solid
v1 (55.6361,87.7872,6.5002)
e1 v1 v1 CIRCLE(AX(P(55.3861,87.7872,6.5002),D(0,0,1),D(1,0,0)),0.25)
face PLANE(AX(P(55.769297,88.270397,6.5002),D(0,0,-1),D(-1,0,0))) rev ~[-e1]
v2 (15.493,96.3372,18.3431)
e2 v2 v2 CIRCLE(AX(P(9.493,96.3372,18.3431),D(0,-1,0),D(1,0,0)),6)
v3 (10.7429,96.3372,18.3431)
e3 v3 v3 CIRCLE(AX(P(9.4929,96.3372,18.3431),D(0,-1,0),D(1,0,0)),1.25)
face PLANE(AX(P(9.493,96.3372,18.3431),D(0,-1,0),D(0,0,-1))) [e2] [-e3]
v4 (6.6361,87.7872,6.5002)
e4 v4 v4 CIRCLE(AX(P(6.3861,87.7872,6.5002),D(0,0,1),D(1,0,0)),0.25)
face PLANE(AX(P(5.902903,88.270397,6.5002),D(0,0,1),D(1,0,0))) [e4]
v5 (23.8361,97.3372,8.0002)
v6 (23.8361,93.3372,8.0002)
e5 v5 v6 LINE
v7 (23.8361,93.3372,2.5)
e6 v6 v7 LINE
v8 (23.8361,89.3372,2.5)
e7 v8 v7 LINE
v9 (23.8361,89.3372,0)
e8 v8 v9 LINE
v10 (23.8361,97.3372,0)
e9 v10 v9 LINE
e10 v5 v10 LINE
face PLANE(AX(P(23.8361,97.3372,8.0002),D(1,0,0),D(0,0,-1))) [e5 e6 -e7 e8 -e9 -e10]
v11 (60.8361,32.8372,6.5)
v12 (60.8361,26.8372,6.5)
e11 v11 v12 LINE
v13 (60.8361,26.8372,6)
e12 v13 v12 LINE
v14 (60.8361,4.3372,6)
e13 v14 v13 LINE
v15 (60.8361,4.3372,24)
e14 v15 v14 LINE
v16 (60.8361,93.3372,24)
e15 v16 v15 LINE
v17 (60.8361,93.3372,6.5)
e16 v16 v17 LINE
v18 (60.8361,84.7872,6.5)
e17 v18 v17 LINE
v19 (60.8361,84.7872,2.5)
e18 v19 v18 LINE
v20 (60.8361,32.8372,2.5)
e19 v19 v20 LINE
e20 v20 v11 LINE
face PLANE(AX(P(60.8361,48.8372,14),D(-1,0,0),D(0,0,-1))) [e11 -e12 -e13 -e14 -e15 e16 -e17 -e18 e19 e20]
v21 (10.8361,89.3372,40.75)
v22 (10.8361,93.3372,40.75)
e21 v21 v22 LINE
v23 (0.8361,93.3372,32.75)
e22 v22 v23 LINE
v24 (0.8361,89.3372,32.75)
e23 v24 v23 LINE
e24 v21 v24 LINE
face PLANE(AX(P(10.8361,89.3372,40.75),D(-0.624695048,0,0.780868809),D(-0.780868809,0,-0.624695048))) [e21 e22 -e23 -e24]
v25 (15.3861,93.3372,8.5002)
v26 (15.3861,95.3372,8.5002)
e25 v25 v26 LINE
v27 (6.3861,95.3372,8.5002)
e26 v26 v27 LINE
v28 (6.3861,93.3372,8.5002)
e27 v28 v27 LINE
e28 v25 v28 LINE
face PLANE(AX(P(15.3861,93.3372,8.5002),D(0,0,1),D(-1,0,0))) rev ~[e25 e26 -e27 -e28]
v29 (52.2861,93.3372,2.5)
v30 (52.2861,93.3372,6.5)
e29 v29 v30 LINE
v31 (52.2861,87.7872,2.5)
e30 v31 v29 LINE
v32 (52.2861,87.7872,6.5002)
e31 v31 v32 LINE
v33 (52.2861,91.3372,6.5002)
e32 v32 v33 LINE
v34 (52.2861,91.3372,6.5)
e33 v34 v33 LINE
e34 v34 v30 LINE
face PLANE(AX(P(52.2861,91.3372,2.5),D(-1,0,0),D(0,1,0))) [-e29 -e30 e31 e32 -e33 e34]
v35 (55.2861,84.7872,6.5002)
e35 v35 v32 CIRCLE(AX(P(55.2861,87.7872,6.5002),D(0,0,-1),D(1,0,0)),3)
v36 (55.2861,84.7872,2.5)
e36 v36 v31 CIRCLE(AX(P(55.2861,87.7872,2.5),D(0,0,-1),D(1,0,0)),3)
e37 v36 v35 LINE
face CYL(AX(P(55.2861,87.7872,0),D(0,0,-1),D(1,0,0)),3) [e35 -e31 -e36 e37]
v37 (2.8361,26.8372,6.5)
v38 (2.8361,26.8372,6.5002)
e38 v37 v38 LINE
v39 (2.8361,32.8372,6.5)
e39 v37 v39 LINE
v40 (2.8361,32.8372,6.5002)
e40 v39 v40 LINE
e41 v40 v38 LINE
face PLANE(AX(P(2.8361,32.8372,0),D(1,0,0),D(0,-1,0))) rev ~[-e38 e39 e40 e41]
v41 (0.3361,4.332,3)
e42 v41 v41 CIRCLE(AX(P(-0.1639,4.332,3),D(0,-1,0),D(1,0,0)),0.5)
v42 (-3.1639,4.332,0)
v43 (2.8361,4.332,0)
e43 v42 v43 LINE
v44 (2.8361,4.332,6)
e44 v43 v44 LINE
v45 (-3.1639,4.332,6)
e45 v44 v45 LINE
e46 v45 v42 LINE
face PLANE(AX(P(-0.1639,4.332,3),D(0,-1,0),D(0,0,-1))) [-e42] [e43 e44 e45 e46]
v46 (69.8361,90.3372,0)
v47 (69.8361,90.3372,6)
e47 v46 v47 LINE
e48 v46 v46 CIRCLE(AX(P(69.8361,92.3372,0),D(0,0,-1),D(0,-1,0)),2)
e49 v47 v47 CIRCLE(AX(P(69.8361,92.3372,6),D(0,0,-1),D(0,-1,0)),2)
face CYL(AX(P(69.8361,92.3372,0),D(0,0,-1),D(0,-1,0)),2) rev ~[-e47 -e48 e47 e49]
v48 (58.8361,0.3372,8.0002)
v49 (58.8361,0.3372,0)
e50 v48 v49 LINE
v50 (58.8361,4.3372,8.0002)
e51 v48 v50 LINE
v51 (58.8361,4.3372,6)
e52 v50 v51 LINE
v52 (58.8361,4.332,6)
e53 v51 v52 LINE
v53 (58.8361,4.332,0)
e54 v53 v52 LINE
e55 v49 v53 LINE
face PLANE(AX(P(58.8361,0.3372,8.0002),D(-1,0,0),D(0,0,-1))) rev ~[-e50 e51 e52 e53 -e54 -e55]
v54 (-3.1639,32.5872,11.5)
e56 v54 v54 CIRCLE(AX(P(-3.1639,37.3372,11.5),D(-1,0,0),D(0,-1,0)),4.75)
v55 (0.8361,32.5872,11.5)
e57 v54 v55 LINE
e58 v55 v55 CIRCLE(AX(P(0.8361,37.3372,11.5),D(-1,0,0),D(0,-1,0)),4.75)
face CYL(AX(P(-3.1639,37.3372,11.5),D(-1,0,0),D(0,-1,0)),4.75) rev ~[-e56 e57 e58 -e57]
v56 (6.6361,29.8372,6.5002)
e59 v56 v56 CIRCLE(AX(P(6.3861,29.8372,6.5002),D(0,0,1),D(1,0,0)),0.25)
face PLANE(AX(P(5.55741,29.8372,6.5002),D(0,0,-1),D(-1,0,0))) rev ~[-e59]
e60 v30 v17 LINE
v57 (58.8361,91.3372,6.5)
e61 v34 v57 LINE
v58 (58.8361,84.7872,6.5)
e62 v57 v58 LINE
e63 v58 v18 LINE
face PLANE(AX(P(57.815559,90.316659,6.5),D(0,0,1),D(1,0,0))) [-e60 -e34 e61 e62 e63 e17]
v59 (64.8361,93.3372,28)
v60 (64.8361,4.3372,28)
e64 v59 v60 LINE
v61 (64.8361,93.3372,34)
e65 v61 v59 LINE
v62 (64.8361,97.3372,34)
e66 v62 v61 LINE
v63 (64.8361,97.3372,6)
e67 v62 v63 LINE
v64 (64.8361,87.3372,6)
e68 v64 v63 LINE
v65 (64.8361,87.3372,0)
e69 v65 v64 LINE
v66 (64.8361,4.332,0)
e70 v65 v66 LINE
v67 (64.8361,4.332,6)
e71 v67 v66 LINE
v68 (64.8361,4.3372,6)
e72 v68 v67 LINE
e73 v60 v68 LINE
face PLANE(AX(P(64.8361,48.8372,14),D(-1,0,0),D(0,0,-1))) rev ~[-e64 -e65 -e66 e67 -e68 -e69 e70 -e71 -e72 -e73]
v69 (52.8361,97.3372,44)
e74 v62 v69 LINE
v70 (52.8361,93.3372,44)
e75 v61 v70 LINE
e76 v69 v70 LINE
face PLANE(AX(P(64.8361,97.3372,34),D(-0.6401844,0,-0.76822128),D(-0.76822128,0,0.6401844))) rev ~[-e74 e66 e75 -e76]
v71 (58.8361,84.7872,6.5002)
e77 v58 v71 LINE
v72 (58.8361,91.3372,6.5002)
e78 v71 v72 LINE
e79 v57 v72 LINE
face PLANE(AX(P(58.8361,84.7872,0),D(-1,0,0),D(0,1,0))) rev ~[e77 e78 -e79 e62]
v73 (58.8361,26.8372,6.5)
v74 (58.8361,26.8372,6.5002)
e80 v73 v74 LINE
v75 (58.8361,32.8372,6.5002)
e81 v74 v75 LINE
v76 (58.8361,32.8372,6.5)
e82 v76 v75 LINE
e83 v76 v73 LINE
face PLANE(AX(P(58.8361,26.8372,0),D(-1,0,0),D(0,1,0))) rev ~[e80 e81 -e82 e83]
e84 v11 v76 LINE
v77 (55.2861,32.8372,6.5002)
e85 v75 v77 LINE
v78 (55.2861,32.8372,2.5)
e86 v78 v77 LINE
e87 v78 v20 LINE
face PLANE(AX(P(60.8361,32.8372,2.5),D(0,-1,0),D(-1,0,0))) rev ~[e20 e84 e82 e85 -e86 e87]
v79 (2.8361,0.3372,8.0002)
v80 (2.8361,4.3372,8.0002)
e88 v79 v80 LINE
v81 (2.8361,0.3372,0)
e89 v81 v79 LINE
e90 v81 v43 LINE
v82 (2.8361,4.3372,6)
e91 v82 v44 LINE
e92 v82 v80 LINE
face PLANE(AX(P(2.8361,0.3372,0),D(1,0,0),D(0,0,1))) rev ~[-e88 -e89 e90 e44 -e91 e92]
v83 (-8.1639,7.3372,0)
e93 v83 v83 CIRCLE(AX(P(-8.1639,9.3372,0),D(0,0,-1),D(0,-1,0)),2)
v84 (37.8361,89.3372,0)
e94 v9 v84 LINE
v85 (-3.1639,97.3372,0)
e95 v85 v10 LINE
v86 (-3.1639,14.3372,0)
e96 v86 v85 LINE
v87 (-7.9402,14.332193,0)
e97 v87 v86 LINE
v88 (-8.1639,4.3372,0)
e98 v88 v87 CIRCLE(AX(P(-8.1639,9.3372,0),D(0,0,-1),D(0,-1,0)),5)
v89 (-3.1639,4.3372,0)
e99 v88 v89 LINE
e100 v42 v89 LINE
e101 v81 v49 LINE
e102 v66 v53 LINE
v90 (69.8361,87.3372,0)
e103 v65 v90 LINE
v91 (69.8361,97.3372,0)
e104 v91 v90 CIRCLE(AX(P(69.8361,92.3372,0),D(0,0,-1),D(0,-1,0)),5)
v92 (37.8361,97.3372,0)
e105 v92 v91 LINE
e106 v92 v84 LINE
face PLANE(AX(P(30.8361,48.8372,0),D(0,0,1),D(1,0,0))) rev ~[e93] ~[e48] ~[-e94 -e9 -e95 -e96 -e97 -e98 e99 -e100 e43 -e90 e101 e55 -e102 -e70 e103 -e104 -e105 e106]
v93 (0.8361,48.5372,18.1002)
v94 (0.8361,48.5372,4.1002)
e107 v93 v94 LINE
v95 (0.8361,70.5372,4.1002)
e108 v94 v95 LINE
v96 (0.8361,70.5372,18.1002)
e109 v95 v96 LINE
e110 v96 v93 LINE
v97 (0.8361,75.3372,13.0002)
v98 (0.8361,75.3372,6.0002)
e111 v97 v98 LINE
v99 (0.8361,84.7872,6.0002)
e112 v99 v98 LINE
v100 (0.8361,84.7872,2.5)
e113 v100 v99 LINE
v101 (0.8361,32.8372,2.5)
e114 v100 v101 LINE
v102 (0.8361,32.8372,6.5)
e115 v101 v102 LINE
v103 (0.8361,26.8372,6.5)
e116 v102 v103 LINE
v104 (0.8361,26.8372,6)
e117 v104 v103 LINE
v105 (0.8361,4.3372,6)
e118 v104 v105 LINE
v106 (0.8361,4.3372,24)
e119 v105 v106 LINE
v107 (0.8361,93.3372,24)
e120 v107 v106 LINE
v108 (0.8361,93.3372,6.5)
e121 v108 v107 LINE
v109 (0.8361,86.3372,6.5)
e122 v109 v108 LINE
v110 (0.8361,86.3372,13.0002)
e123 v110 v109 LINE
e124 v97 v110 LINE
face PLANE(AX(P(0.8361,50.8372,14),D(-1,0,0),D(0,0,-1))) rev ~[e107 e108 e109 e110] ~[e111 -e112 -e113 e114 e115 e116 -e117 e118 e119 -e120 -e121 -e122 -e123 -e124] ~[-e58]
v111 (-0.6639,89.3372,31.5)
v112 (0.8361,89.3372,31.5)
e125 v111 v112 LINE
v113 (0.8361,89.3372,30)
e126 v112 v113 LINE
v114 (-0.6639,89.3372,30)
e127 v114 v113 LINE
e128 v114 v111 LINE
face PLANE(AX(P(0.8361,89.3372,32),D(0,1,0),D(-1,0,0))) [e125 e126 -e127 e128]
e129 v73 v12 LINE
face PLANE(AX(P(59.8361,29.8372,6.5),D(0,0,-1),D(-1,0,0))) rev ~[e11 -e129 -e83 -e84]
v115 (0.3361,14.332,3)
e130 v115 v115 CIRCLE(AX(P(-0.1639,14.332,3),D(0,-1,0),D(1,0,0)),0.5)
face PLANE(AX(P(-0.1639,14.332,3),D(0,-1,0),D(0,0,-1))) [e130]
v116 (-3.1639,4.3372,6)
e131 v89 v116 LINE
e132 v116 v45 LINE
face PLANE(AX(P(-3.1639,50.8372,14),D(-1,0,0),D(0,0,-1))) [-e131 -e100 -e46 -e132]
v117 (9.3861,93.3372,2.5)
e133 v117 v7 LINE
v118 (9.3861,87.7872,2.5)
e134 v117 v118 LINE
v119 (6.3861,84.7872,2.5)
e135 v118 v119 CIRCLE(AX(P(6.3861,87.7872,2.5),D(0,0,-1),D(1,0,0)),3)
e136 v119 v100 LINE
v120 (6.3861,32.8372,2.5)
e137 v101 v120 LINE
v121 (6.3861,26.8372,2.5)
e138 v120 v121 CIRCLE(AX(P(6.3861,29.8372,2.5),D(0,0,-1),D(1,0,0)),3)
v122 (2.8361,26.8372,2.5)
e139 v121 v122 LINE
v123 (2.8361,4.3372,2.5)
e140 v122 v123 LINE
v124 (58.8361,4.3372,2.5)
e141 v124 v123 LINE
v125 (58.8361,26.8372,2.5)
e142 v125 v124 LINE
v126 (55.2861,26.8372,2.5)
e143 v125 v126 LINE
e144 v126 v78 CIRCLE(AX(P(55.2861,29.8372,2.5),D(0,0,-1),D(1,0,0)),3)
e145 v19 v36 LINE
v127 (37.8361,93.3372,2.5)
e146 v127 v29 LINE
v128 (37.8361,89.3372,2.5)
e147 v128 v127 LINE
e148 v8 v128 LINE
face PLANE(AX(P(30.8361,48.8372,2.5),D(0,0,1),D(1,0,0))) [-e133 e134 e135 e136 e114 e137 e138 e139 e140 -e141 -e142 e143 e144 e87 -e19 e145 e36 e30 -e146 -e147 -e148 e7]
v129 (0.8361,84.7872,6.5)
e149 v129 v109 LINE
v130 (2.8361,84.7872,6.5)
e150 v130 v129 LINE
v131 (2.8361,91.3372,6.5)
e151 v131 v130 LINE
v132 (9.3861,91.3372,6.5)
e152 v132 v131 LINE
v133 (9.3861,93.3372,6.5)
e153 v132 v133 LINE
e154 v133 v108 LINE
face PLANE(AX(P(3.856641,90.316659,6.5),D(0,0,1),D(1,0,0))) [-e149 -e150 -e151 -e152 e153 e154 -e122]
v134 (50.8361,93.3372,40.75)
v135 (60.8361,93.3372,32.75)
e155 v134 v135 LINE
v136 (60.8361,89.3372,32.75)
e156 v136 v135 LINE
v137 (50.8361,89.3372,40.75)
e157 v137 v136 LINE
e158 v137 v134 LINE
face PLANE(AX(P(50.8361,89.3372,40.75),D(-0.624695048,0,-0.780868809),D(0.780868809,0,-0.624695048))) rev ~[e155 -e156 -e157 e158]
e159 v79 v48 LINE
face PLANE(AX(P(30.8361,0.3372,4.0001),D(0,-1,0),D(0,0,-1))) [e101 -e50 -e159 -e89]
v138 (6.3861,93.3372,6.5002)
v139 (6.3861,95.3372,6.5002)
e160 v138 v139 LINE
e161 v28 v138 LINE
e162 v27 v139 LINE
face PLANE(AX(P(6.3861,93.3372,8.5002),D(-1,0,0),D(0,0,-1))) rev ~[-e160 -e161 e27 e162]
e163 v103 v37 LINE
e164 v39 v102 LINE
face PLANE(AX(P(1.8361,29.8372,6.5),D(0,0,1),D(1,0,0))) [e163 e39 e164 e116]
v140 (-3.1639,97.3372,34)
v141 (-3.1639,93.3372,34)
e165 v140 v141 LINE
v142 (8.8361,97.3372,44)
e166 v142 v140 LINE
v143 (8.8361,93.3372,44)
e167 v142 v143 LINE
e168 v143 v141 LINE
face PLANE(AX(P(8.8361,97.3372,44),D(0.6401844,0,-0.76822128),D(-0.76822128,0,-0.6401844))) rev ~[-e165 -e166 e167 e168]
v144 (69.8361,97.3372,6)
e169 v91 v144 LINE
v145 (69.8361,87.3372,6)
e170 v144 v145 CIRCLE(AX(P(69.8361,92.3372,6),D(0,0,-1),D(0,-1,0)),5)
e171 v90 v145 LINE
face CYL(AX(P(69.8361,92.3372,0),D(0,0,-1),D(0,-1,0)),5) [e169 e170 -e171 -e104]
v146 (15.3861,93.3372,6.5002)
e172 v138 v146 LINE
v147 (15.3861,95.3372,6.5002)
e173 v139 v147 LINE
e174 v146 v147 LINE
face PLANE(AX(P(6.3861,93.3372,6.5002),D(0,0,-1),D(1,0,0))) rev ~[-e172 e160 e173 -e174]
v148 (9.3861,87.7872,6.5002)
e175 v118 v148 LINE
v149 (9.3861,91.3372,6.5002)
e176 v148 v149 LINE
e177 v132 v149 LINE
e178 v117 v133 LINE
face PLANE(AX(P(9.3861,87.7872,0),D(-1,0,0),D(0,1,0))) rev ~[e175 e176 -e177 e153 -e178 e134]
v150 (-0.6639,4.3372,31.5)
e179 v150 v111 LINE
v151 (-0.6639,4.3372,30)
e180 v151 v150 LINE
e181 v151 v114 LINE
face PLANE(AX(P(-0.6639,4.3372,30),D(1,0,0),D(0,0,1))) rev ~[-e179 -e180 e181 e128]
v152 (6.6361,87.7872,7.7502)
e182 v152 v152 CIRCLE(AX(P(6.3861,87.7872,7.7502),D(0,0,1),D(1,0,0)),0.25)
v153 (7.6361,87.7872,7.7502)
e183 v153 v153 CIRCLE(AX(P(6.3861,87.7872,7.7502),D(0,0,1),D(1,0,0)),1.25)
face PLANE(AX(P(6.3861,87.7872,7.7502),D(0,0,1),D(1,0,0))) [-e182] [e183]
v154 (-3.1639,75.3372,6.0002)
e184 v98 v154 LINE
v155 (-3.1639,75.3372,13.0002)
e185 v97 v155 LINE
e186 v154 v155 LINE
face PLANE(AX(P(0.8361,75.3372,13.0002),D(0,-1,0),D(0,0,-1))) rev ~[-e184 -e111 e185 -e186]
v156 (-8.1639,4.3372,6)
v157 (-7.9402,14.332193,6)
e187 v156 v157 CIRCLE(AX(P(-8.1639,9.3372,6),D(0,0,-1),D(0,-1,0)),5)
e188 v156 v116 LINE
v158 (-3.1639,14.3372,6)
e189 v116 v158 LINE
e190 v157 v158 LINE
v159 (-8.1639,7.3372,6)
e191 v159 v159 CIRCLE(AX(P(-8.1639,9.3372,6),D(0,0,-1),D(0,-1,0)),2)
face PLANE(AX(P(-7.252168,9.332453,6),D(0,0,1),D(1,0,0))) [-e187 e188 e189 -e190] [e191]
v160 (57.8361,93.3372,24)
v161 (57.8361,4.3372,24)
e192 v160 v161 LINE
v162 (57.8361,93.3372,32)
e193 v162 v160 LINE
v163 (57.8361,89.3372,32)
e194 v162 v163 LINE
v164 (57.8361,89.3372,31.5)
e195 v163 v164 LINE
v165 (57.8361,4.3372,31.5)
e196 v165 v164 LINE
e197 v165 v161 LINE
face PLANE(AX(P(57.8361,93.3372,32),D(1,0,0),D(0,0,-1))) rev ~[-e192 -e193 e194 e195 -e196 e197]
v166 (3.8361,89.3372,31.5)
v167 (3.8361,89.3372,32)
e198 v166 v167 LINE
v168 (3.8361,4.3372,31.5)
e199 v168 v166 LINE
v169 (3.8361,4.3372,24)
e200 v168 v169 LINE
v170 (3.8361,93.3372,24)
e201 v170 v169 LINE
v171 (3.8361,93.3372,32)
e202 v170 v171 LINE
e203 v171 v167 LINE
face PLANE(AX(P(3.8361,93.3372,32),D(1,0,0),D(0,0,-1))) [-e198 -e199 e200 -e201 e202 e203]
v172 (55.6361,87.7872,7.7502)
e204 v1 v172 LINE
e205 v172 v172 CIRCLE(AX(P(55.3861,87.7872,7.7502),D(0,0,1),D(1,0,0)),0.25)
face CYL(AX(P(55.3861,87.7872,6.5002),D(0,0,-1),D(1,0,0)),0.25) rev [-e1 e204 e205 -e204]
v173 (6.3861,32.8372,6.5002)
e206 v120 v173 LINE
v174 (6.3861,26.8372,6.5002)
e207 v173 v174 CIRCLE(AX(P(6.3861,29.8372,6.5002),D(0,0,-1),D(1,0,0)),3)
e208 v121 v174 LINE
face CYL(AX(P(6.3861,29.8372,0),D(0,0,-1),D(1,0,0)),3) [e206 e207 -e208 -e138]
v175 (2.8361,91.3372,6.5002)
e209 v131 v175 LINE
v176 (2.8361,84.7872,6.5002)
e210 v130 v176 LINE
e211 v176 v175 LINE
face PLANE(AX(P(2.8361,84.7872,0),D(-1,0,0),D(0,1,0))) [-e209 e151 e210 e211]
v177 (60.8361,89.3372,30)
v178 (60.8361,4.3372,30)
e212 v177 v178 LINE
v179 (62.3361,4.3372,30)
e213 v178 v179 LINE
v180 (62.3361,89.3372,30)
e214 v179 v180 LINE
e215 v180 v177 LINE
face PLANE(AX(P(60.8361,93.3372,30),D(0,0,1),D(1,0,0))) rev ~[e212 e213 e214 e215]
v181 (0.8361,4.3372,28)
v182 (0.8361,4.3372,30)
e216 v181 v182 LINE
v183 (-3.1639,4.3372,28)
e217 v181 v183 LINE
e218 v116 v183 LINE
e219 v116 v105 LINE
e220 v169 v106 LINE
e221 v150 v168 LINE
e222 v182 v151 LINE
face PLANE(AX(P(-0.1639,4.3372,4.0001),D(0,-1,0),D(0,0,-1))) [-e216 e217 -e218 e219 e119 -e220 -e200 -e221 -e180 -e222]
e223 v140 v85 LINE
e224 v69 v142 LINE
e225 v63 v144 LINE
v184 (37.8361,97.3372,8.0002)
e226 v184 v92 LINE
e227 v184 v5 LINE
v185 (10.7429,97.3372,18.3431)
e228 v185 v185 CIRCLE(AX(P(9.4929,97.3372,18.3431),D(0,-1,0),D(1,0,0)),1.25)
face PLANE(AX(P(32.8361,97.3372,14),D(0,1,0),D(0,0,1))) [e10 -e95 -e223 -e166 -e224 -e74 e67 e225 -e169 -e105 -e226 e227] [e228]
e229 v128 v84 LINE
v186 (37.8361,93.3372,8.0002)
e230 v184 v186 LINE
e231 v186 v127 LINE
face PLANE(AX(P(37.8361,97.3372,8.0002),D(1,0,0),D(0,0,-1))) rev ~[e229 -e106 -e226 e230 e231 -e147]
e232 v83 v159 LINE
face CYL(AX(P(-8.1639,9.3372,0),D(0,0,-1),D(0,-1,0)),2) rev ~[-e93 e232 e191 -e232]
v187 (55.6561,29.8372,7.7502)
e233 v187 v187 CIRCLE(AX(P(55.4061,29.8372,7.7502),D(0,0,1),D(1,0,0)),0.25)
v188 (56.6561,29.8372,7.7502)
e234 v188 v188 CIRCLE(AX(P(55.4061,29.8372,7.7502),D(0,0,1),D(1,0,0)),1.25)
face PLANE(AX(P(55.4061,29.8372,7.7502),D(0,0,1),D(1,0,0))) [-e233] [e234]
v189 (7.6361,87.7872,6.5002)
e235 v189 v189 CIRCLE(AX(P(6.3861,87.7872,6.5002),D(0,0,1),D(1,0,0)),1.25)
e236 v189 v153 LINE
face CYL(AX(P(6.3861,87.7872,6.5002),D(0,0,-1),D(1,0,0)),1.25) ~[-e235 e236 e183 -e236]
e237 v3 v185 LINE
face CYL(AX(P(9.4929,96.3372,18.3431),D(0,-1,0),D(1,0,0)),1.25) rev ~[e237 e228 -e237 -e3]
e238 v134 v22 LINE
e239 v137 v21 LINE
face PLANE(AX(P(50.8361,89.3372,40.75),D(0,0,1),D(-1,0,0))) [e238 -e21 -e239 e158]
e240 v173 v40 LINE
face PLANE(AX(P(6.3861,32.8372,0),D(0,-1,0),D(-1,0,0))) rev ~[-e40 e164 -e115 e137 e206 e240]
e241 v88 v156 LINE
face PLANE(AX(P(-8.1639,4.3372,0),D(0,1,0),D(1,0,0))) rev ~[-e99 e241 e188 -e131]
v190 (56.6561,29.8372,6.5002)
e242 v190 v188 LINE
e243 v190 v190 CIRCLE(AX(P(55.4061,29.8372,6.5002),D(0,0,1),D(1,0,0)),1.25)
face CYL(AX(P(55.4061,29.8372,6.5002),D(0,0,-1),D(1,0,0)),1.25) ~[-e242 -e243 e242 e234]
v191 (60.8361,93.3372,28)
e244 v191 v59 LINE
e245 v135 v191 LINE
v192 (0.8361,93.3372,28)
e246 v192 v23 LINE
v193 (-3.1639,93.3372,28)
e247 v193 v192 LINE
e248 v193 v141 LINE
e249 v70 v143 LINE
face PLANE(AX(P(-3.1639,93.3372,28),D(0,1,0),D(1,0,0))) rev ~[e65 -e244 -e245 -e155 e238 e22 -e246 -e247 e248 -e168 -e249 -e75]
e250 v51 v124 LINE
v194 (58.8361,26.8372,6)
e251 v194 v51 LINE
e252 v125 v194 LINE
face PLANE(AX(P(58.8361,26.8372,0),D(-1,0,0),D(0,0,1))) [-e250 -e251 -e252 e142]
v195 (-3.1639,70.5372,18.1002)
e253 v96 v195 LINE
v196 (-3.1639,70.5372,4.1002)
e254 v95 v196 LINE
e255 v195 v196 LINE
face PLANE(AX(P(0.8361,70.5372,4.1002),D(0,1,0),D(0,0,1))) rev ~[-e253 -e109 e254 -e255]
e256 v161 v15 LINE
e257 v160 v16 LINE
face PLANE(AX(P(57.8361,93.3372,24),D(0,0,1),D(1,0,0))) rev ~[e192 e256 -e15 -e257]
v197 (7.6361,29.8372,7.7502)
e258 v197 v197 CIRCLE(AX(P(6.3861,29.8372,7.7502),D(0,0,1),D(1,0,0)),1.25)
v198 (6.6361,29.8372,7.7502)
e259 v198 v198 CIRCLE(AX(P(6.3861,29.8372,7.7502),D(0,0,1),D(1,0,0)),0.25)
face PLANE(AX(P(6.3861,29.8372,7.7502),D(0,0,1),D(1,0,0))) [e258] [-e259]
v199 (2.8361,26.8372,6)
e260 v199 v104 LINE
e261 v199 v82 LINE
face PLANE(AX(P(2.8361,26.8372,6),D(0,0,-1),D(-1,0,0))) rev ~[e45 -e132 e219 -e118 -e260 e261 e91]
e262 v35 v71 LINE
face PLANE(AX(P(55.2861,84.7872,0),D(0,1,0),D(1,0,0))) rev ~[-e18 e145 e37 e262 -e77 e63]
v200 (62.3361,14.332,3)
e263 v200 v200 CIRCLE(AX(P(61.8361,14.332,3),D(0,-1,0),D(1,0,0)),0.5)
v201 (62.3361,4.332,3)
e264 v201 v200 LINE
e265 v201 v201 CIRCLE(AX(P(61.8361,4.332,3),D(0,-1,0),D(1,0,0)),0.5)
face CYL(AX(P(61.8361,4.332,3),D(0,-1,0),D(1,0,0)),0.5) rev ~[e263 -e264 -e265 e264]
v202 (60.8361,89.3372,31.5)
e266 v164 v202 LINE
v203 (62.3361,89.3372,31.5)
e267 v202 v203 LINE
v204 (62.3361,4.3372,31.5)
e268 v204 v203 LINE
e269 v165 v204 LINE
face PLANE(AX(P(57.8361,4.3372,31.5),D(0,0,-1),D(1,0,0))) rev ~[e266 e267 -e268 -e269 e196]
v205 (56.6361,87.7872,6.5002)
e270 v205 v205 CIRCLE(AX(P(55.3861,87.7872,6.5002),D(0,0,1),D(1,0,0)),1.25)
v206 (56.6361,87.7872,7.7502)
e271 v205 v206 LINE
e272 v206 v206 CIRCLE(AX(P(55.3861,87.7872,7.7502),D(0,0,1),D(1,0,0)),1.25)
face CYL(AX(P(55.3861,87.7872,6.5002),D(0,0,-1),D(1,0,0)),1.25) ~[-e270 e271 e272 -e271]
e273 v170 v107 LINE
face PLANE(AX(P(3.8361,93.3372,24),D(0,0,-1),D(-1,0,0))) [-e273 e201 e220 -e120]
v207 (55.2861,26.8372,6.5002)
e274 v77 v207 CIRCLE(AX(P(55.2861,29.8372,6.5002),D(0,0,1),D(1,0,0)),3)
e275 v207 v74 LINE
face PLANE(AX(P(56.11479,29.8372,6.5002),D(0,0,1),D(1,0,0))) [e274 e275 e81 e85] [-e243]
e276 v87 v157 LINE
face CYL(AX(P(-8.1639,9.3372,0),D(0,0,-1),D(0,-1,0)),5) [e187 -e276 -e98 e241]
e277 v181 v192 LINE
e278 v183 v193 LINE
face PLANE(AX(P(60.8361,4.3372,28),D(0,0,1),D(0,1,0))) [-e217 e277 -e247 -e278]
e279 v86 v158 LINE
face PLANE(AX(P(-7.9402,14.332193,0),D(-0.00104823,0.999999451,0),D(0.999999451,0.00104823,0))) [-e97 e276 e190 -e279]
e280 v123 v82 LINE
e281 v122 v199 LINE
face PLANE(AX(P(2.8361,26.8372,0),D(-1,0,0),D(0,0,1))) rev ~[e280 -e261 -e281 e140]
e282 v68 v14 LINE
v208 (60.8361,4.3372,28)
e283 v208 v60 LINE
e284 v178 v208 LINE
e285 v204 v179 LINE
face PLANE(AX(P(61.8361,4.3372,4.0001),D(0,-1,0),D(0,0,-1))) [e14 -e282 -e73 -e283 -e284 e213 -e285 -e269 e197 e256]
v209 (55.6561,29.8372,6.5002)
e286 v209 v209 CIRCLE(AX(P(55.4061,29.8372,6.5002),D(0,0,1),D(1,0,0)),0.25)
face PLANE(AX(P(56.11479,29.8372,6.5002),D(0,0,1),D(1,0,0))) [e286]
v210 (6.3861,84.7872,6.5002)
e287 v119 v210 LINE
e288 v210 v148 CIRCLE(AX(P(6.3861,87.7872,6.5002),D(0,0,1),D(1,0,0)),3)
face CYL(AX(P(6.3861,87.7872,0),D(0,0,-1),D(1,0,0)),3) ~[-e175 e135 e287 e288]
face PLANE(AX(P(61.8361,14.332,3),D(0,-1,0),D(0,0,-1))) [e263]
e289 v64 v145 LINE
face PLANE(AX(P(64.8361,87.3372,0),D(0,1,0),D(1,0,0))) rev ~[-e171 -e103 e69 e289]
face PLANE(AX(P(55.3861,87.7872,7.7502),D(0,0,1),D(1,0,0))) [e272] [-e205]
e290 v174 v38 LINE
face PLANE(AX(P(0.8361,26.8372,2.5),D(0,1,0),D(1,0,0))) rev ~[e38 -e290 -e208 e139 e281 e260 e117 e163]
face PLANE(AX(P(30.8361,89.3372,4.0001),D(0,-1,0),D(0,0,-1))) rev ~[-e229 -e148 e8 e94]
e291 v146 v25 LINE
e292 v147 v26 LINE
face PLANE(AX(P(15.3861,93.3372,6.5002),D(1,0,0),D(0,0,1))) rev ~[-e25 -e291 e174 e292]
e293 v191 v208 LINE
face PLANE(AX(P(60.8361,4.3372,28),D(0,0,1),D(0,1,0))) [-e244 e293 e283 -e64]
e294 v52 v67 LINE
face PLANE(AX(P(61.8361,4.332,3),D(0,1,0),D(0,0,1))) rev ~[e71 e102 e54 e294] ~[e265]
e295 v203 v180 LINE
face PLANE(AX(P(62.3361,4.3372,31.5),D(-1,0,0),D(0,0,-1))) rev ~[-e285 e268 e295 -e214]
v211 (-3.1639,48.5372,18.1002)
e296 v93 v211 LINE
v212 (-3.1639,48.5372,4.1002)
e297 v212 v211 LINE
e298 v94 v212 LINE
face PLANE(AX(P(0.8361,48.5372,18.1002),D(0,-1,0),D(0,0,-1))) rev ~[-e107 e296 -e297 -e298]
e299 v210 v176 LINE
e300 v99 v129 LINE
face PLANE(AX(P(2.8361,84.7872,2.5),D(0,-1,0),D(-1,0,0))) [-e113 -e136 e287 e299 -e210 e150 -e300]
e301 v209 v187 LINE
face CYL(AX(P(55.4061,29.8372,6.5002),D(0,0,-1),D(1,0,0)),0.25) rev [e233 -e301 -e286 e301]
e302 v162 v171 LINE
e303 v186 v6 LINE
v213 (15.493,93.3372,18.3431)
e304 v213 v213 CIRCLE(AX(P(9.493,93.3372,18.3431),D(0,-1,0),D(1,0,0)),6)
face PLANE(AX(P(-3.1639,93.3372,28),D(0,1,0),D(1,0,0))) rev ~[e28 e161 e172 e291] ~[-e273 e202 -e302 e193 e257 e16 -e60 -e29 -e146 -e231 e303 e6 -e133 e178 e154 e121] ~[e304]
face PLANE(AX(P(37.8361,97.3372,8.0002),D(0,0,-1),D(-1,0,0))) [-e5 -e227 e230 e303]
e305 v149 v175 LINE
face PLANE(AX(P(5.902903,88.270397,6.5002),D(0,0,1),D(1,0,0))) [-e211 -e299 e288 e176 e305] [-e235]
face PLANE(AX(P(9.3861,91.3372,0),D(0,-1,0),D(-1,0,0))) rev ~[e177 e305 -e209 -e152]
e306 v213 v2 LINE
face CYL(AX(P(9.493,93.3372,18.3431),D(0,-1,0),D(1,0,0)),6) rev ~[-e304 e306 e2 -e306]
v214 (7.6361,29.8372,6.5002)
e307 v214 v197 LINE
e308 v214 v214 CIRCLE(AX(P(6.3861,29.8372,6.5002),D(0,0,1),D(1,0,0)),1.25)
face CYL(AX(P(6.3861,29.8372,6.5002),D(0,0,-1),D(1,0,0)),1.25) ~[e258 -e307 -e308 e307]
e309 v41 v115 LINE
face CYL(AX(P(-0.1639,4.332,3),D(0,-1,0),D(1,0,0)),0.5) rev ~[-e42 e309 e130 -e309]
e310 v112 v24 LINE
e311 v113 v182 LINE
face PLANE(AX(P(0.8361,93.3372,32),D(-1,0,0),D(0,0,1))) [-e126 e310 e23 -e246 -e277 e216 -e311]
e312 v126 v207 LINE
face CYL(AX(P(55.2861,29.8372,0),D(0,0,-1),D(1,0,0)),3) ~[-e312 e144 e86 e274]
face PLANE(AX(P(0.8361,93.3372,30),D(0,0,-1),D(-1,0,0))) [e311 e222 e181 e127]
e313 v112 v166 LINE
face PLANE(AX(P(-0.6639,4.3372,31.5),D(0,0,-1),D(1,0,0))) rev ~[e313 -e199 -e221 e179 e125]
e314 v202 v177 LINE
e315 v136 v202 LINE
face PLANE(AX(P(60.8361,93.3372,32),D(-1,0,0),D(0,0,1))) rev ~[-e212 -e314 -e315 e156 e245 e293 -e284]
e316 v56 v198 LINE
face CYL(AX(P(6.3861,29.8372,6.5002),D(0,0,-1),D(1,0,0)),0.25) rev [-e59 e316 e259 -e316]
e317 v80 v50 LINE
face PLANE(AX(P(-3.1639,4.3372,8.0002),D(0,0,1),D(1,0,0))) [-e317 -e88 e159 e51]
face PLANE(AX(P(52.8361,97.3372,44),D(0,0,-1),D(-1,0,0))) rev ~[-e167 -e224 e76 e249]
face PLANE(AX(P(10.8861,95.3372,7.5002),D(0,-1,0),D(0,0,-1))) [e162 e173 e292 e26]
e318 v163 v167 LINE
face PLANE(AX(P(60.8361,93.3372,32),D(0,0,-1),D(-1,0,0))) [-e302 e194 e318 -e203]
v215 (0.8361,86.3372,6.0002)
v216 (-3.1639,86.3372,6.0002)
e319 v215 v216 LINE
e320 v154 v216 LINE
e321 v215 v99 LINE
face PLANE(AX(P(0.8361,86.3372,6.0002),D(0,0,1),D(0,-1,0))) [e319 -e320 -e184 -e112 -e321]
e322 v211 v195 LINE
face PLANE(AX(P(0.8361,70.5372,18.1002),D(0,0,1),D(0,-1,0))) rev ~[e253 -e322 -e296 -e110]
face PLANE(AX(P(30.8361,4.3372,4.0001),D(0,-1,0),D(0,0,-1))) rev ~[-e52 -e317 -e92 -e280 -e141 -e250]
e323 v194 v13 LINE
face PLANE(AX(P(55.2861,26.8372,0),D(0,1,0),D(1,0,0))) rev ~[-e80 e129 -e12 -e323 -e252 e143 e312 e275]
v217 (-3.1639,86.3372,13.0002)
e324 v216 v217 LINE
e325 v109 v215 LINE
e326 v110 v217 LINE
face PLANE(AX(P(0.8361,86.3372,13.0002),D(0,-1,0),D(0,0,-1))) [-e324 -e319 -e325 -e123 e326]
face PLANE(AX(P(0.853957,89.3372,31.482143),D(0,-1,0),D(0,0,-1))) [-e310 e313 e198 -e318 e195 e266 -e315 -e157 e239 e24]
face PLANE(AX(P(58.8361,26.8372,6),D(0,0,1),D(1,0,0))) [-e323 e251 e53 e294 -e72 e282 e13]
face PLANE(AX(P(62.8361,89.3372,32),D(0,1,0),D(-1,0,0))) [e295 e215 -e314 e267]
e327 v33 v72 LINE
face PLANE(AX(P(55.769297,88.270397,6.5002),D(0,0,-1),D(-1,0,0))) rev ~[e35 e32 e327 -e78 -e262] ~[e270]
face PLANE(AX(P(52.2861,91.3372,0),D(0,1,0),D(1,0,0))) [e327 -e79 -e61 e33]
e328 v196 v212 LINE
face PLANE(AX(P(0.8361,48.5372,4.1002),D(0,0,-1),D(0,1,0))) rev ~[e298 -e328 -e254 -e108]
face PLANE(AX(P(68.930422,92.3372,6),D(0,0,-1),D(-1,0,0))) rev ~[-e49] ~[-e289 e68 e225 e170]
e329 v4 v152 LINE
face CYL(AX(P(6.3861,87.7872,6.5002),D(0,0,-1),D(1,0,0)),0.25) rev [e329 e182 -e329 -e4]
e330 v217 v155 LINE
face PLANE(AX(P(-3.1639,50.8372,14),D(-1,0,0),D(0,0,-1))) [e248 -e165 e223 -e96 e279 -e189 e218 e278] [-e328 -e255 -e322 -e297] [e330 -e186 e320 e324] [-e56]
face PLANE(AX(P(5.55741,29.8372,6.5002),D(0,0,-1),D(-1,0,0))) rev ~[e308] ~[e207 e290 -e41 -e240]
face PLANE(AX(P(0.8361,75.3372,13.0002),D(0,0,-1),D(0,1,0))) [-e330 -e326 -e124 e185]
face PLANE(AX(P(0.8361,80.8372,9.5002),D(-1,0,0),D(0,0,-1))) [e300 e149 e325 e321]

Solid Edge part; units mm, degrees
sketch "Sketch1" plane through (0, 0, 0) normal (0, 0, 1) x (1, 0, 0)
  line L0 (2.8361, 6.3372) -> (58.8361, 6.3372)
  line L1 (58.8361, 6.3372) -> (58.8361, 91.3372)
  line L2 (58.8361, 91.3372) -> (2.8361, 91.3372)
  line L3 (2.8361, 91.3372) -> (2.8361, 6.3372)
extrude "Protrusion1" add sketch "Sketch1" along normal blind 2.5
sketch "Sketch2" plane through (30.8361, 6.3372, 1.25) normal (0, -1, 0) x (1, 0, 0)
  line L0 (-28, 1.25) -> (28, 1.25)
  line L1 (28, 1.25) -> (28, -1.25)
  line L2 (28, -1.25) -> (-28, -1.25)
  line L3 (-28, -1.25) -> (-28, 1.25)
extrude "Extrusionsausprägung_2" add sketch "Sketch2" along normal blind 2
sketch "Sketch3" plane through (30.8361, 91.3372, 1.25) normal (0, 1, 0) x (-1, 0, 0)
  line L0 (28, 1.25) -> (-28, 1.25)
  line L1 (-28, 1.25) -> (-28, -1.25)
  line L2 (-28, -1.25) -> (28, -1.25)
  line L3 (28, -1.25) -> (28, 1.25)
extrude "Extrusionsausprägung_3" add sketch "Sketch3" along normal blind 2
sketch "Sketch4" plane through (2.8361, 48.8372, 1.25) normal (-1, 0, 0) x (0, 1, 0)
  line L0 (44.5, 1.25) -> (44.5, -1.25)
  line L1 (44.5, -1.25) -> (-44.5, -1.25)
  line L2 (-44.5, -1.25) -> (-44.5, 1.25)
  line L3 (-44.5, 1.25) -> (44.5, 1.25)
extrude "Extrusionsausprägung_4" add sketch "Sketch4" along normal blind 2
sketch "Sketch5" plane through (58.8361, 48.8372, 1.25) normal (1, 0, 0) x (0, 1, 0)
  line L0 (44.5, 1.25) -> (-44.5, 1.25)
  line L1 (-44.5, 1.25) -> (-44.5, -1.25)
  line L2 (-44.5, -1.25) -> (44.5, -1.25)
  line L3 (44.5, -1.25) -> (44.5, 1.25)
extrude "Extrusionsausprägung_5" add sketch "Sketch5" along normal blind 2
sketch "Sketch6" plane through (30.8361, 48.8372, 0) normal (0, 0, -1) x (1, 0, 0)
  line L0 (21.45, -38.95) -> (21.45, -42.5)
  line L1 (21.45, -42.5) -> (28, -42.5)
  line L2 (28, -35.95) -> (28, -42.5)
  line L3 (24.45, -35.95) -> (28, -35.95)
  arc A0 (24.45, -35.95) -> (21.45, -38.95) centre (24.45, -38.95) ccw
  line L4 (28, 16) -> (24.45, 16)
  arc A1 (24.45, 16) -> (24.45, 22) centre (24.45, 19) cw
  line L5 (24.45, 22) -> (28, 22)
  line L6 (28, 22) -> (28, 16)
  arc A2 (-24.45, 16) -> (-24.45, 22) centre (-24.45, 19) ccw
  line L7 (-24.45, 22) -> (-28, 22)
  line L8 (-28, 16) -> (-28, 22)
  line L9 (-24.45, 16) -> (-28, 16)
  arc A3 (-24.45, -35.95) -> (-21.45, -38.95) centre (-24.45, -38.95) cw
  line L10 (-21.45, -38.95) -> (-21.45, -42.5)
  line L11 (-21.45, -42.5) -> (-28, -42.5)
  line L12 (-28, -35.95) -> (-28, -42.5)
  line L13 (-24.45, -35.95) -> (-28, -35.95)
extrude "Protrusion2" add sketch "Sketch6" against normal blind 6.5002
sketch "Sketch7" plane through (60.8361, 48.8372, 3.25) normal (1, 0, 0) x (0, 1, 0)
  line L0 (-44.5, -3.25) -> (-44.5, -0.75)
  line L1 (-44.5, -0.75) -> (-44.5, 4.75)
  line L2 (-44.5, 4.75) -> (-44.5, 24.75)
  line L3 (-44.5, 24.75) -> (44.5, 24.75)
  line L4 (44.5, 24.75) -> (44.5, -3.25)
  line L5 (44.5, -3.25) -> (-44.5, -3.25)
extrude "Extrusionsausprägung_10" add sketch "Sketch7" along normal blind 4
sketch "Sketch8" plane through (32.8361, 93.3372, 14) normal (0, 1, 0) x (-1, 0, 0)
  line L0 (-32, 14) -> (-32, -14)
  line L1 (-32, -14) -> (32, -14)
  line L2 (32, -14) -> (32, 14)
  line L3 (32, 14) -> (-32, 14)
extrude "Extrusionsausprägung_11" add sketch "Sketch8" along normal blind 4
sketch "Sketch9" plane through (0.8361, 50.8372, 14) normal (-1, 0, 0) x (0, -1, 0)
  line L0 (46.5, -14) -> (46.5, 14)
  line L1 (46.5, 14) -> (-46.5, 14)
  line L2 (-46.5, 14) -> (-46.5, -14)
  line L3 (-46.5, -14) -> (46.5, -14)
extrude "Extrusionsausprägung_12" add sketch "Sketch9" along normal blind 4
sketch "Sketch10" plane through (30.8361, 48.8372, 2.5) normal (0, 0, 1) x (1, 0, 0)
  line L0 (-28, -22) -> (-28, -16)
  line L1 (-28, -16) -> (-30, -16)
  line L2 (-30, -16) -> (-30, -22)
  line L3 (-30, -22) -> (-28, -22)
  line L4 (30, -16) -> (30, -22)
  line L5 (28, -22) -> (30, -22)
  line L6 (28, -16) -> (28, -22)
  line L7 (30, -16) -> (28, -16)
  line L8 (28, 42.5) -> (28, 35.95)
  line L9 (28, 35.95) -> (30, 35.95)
  line L10 (30, 35.95) -> (30, 44.5)
  line L11 (21.45, 44.5) -> (30, 44.5)
  line L12 (21.45, 42.5) -> (21.45, 44.5)
  line L13 (21.45, 42.5) -> (28, 42.5)
  line L14 (-21.45, 42.5) -> (-21.45, 44.5)
  line L15 (-21.45, 44.5) -> (-30, 44.5)
  line L16 (-30, 35.95) -> (-30, 44.5)
  line L17 (-28, 35.95) -> (-30, 35.95)
  line L18 (-28, 42.5) -> (-28, 35.95)
  line L19 (-21.45, 42.5) -> (-28, 42.5)
extrude "Extrusionsausprägung_14" add sketch "Sketch10" along normal blind 4
sketch "Sketch11" plane through (0.8361, 48.8372, 15.25) normal (1, 0, 0) x (0, 1, 0)
  line L0 (21.7, 2.8502) -> (-0.3, 2.8502)
  line L1 (-0.3, 2.8502) -> (-0.3, -11.1498)
  line L2 (-0.3, -11.1498) -> (21.7, -11.1498)
  line L3 (21.7, -11.1498) -> (21.7, 2.8502)
  line L4 (26.5, -2.2498) -> (37.5, -2.2498)
  line L5 (37.5, -2.2498) -> (37.5, -9.2498)
  line L6 (37.5, -9.2498) -> (26.5, -9.2498)
  line L7 (26.5, -2.2498) -> (26.5, -9.2498)
  circle A0 centre (-11.5, -2.75) radius 4.75
extrude "Extrusionsausschnitt_2" cut sketch "Sketch11" against normal blind 45.1211
sketch "Sketch12" plane through (30.8361, 97.3372, 14) normal (0, 1, 0) x (-1, 0, 0)
  line L0 (-7, -5.9998) -> (7, -5.9998)
  line L1 (7, -5.9998) -> (7, -14)
  line L2 (7, -14) -> (-7, -14)
  line L3 (-7, -5.9998) -> (-7, -14)
extrude "Cutout1" cut sketch "Sketch12" against normal blind 8
sketch "Sketch13" plane through (30.8361, 93.3372, 15.25) normal (0, -1, 0) x (1, 0, 0)
  line L0 (-30, 12.75) -> (-30, 14.75)
  line L1 (-30, 14.75) -> (-32, 14.75)
  line L2 (-32, 14.75) -> (-32, 16.75)
  line L3 (-32, 16.75) -> (-27, 16.75)
  line L4 (-27, 16.75) -> (-27, 8.75)
  line L5 (-27, 8.75) -> (-30, 8.75)
  line L6 (-30, 8.75) -> (-30, 12.75)
  line L7 (30, 14.75) -> (32, 14.75)
  line L8 (32, 14.75) -> (32, 16.75)
  line L9 (32, 16.75) -> (27, 16.75)
  line L10 (27, 16.75) -> (27, 8.75)
  line L11 (27, 8.75) -> (30, 8.75)
  line L12 (30, 14.75) -> (30, 8.75)
extrude "Protrusion3" add sketch "Sketch13" along normal blind 89
sketch "Sketch14" plane through (30.8361, 50.8372, 28) normal (0, 0, 1) x (0, -1, 0)
  line L0 (-46.5, 34) -> (-46.5, -34)
  line L1 (-46.5, -34) -> (-42.5, -34)
  line L2 (-42.5, -34) -> (-42.5, 34)
  line L3 (-42.5, 34) -> (-46.5, 34)
extrude "Extrusionsausprägung_16" add sketch "Sketch14" along normal blind 4
sketch "Sketch15" plane through (30.8361, 97.3372, 16) normal (0, 1, 0) x (0, 0, -1)
  line L0 (-18, -34) -> (-28, -22)
  line L1 (-28, -22) -> (-28, 22)
  line L2 (-28, 22) -> (-18, 34)
  line L3 (-16, 34) -> (-18, 34)
  line L4 (-16, -34) -> (-16, 34)
  line L5 (-16, -34) -> (-18, -34)
extrude "Protrusion4" add sketch "Sketch15" against normal blind 4
sketch "Sketch16" plane through (30.8361, 93.3372, 23.25) normal (0, -1, 0) x (1, 0, 0)
  line L0 (30, 8.75) -> (30, 10.75)
  line L1 (20, 18.75) -> (30, 10.75)
  line L2 (20, 18.75) -> (-20, 18.75)
  line L3 (-30, 10.75) -> (-20, 18.75)
  line L4 (-30, 8.75) -> (-30, 10.75)
  line L5 (30, 8.75) -> (-30, 8.75)
extrude "Extrusionsausprägung_18" add sketch "Sketch16" along normal blind 4
sketch "Sketch17" plane through (30.8361, 4.3372, 16) normal (0, -1, 0) x (1, 0, 0)
  line L0 (-34, -7.9998) -> (-34, -16)
  line L1 (-34, -16) -> (34, -16)
  line L2 (34, -16) -> (34, -7.9998)
  line L3 (-34, -7.9998) -> (34, -7.9998)
extrude "Protrusion5" add sketch "Sketch17" along normal blind 4
sketch "Sketch18" plane through (30.8361, 0.3372, 4.0001) normal (0, -1, 0) x (1, 0, 0)
  line L0 (-34, -4.0001) -> (-28, -4.0001)
  line L1 (-28, -4.0001) -> (-28, 4.0001)
  line L2 (-28, 4.0001) -> (-34, 4.0001)
  line L3 (-34, 4.0001) -> (-34, -4.0001)
  line L4 (34, 4.0001) -> (28, 4.0001)
  line L5 (28, 4.0001) -> (28, -4.0001)
  line L6 (28, -4.0001) -> (34, -4.0001)
  line L7 (34, -4.0001) -> (34, 4.0001)
extrude "Cutout2" cut sketch "Sketch18" against normal blind 4
sketch "Sketch19" plane through (58.0611, 26.8372, 4.5028) normal (0, -1, 0) x (1, 0, 0)
  line L0 (6.775, -4.5028) -> (0.775, -4.5028)
  line L1 (0.775, -4.5028) -> (0.775, 1.4972)
  line L2 (0.775, 1.4972) -> (6.775, 1.4972)
  line L3 (6.775, 1.4972) -> (6.775, -4.5028)
  line L4 (-55.225, -4.5028) -> (-55.225, 1.4972)
  line L5 (-55.225, 1.4972) -> (-61.225, 1.4972)
  line L6 (-61.225, 1.4972) -> (-61.225, -4.5028)
  line L7 (-61.225, -4.5028) -> (-55.225, -4.5028)
extrude "Protrusion6" add sketch "Sketch19" along normal blind 22.5052
sketch "Sketch20" plane through (-0.1639, 4.332, 3) normal (0, -1, 0) x (1, 0, 0)
  circle A0 centre (0, 0) radius 0.5
  circle A1 centre (62, 0) radius 0.5
extrude "Extrusionsausschnitt_5" cut sketch "Sketch20" against normal blind 10
sketch "Sketch21" plane through (30.8361, 48.8372, 0) normal (0, 0, -1) x (0, -1, 0)
  line L0 (44.5, 34) -> (34.5, 34)
  line L1 (34.505, 38.7763) -> (34.5, 34)
  arc A0 (44.5, 39) -> (34.505, 38.7763) centre (39.5, 39) ccw
  line L2 (44.5, 39) -> (44.5, 34)
  circle A1 centre (39.5, 39) radius 2
  line L3 (-38.5, -34) -> (-48.5, -34)
  line L4 (-48.5, -34) -> (-48.5, -39)
  arc A2 (-48.5, -39) -> (-38.5, -39) centre (-43.5, -39) ccw
  line L5 (-38.5, -34) -> (-38.5, -39)
  circle A3 centre (-43.5, -39) radius 2
extrude "Protrusion7" add sketch "Sketch21" against normal blind 6
sketch "Sketch22" plane through (61.3361, 4.3372, 19) normal (0, -1, 0) x (0, 0, 1)
  line L0 (13, 3.5) -> (12.5, 3.5)
  line L1 (12.5, 3.5) -> (12.5, -1)
  line L2 (12.5, -1) -> (11, -1)
  line L3 (11, -1) -> (11, -1.5)
  line L4 (11, -1.5) -> (13, -1.5)
  line L5 (13, -1.5) -> (13, 3.5)
  line L6 (11, 62) -> (12.5, 62)
  line L7 (12.5, 62) -> (12.5, 57.5)
  line L8 (12.5, 57.5) -> (13, 57.5)
  line L9 (13, 57.5) -> (13, 62.5)
  line L10 (13, 62.5) -> (11, 62.5)
  line L11 (11, 62.5) -> (11, 62)
extrude "Cutout3" cut sketch "Sketch22" against normal up to vertex (85 mm away)
sketch "Sketch23" plane through (-0.1639, 91.3372, 32) normal (0, 0, 1) x (0, -1, 0)
  line L0 (-2, -1) -> (-2, 1)
  line L1 (-2, 1) -> (2, 1)
  line L2 (2, 1) -> (2, -1)
  line L3 (2, -1) -> (-2, -1)
  line L4 (-2, 61) -> (-2, 63)
  line L5 (-2, 63) -> (2, 63)
  line L6 (2, 63) -> (2, 61)
  line L7 (-2, 61) -> (2, 61)
extrude "Cutout4" cut sketch "Sketch23" against normal up to vertex (4 mm away)
sketch "Sketch24" plane through (30.8361, 89.3372, 36.75) normal (0, -1, 0) x (1, 0, 0)
  line L0 (30, -2.75) -> (30, -4)
  line L1 (20, 4) -> (30, -4)
  line L2 (20, 4) -> (-20, 4)
  line L3 (-20, 4) -> (-30, -4)
  line L4 (-30, -4) -> (-30, -2.75)
  line L5 (-30, -2.75) -> (-20, 5.25)
  line L6 (-20, 5.25) -> (20, 5.25)
  line L7 (20, 5.25) -> (30, -2.75)
extrude "Cutout5" cut sketch "Sketch24" against normal up to vertex (4 mm away)
sketch "Sketch25" plane through (6.1084, 29.8372, 6.5002) normal (0, 0, 1) x (1, 0, 0)
  circle A0 centre (0.2777, 0) radius 1.25
  circle A1 centre (0.2777, 57.95) radius 1.25
  circle A2 centre (49.2777, 57.95) radius 1.25
  circle A3 centre (49.2977, 0) radius 1.25
  circle A4 centre (49.2977, 0) radius 0.25
  circle A5 centre (49.2777, 57.95) radius 0.25
  circle A6 centre (0.2777, 57.95) radius 0.25
  circle A7 centre (0.2777, 0) radius 0.25
extrude "Protrusion8" add sketch "Sketch25" along normal blind 1.25
sketch "Sketch26" plane through (-3.1639, 50.8372, 17) normal (-1, 0, 0) x (0, -1, 0)
  circle A0 centre (13.5, -4.5) radius 4.75
extrude "Protrusion9" add sketch "Sketch26" against normal up to vertex (4 mm away)
sketch "Sketch27" plane through (-3.1639, 50.8372, 17) normal (-1, 0, 0) x (0, -1, 0)
  circle A0 centre (13.5, -5.5) radius 4.75
extrude "Extrusionsausschnitt_9" cut sketch "Sketch27" against normal blind 27.884
sketch "Sketch28" plane through (30.8361, 93.3372, 17.25) normal (0, -1, 0) x (1, 0, 0)
  circle A0 centre (-21.3431, 1.0931) radius 6
extrude "Cutout6" cut sketch "Sketch28" against normal blind 3
sketch "Sketch29" plane through (9.4929, 96.3372, 18.3431) normal (0, -1, 0) x (1, 0, 0)
  circle A0 centre (0, 0) radius 1.25
extrude "Cutout7" cut sketch "Sketch29" against normal blind 51.8745
sketch "Sketch30" plane through (30.8361, 93.3372, 17.25) normal (0, -1, 0) x (1, 0, 0)
  line L0 (-24.45, -10.7498) -> (-15.45, -10.7498)
  line L1 (-15.45, -10.7498) -> (-15.45, -8.7498)
  line L2 (-15.45, -8.7498) -> (-24.45, -8.7498)
  line L3 (-24.45, -8.7498) -> (-24.45, -10.7498)
extrude "Cutout8" cut sketch "Sketch30" against normal blind 2
